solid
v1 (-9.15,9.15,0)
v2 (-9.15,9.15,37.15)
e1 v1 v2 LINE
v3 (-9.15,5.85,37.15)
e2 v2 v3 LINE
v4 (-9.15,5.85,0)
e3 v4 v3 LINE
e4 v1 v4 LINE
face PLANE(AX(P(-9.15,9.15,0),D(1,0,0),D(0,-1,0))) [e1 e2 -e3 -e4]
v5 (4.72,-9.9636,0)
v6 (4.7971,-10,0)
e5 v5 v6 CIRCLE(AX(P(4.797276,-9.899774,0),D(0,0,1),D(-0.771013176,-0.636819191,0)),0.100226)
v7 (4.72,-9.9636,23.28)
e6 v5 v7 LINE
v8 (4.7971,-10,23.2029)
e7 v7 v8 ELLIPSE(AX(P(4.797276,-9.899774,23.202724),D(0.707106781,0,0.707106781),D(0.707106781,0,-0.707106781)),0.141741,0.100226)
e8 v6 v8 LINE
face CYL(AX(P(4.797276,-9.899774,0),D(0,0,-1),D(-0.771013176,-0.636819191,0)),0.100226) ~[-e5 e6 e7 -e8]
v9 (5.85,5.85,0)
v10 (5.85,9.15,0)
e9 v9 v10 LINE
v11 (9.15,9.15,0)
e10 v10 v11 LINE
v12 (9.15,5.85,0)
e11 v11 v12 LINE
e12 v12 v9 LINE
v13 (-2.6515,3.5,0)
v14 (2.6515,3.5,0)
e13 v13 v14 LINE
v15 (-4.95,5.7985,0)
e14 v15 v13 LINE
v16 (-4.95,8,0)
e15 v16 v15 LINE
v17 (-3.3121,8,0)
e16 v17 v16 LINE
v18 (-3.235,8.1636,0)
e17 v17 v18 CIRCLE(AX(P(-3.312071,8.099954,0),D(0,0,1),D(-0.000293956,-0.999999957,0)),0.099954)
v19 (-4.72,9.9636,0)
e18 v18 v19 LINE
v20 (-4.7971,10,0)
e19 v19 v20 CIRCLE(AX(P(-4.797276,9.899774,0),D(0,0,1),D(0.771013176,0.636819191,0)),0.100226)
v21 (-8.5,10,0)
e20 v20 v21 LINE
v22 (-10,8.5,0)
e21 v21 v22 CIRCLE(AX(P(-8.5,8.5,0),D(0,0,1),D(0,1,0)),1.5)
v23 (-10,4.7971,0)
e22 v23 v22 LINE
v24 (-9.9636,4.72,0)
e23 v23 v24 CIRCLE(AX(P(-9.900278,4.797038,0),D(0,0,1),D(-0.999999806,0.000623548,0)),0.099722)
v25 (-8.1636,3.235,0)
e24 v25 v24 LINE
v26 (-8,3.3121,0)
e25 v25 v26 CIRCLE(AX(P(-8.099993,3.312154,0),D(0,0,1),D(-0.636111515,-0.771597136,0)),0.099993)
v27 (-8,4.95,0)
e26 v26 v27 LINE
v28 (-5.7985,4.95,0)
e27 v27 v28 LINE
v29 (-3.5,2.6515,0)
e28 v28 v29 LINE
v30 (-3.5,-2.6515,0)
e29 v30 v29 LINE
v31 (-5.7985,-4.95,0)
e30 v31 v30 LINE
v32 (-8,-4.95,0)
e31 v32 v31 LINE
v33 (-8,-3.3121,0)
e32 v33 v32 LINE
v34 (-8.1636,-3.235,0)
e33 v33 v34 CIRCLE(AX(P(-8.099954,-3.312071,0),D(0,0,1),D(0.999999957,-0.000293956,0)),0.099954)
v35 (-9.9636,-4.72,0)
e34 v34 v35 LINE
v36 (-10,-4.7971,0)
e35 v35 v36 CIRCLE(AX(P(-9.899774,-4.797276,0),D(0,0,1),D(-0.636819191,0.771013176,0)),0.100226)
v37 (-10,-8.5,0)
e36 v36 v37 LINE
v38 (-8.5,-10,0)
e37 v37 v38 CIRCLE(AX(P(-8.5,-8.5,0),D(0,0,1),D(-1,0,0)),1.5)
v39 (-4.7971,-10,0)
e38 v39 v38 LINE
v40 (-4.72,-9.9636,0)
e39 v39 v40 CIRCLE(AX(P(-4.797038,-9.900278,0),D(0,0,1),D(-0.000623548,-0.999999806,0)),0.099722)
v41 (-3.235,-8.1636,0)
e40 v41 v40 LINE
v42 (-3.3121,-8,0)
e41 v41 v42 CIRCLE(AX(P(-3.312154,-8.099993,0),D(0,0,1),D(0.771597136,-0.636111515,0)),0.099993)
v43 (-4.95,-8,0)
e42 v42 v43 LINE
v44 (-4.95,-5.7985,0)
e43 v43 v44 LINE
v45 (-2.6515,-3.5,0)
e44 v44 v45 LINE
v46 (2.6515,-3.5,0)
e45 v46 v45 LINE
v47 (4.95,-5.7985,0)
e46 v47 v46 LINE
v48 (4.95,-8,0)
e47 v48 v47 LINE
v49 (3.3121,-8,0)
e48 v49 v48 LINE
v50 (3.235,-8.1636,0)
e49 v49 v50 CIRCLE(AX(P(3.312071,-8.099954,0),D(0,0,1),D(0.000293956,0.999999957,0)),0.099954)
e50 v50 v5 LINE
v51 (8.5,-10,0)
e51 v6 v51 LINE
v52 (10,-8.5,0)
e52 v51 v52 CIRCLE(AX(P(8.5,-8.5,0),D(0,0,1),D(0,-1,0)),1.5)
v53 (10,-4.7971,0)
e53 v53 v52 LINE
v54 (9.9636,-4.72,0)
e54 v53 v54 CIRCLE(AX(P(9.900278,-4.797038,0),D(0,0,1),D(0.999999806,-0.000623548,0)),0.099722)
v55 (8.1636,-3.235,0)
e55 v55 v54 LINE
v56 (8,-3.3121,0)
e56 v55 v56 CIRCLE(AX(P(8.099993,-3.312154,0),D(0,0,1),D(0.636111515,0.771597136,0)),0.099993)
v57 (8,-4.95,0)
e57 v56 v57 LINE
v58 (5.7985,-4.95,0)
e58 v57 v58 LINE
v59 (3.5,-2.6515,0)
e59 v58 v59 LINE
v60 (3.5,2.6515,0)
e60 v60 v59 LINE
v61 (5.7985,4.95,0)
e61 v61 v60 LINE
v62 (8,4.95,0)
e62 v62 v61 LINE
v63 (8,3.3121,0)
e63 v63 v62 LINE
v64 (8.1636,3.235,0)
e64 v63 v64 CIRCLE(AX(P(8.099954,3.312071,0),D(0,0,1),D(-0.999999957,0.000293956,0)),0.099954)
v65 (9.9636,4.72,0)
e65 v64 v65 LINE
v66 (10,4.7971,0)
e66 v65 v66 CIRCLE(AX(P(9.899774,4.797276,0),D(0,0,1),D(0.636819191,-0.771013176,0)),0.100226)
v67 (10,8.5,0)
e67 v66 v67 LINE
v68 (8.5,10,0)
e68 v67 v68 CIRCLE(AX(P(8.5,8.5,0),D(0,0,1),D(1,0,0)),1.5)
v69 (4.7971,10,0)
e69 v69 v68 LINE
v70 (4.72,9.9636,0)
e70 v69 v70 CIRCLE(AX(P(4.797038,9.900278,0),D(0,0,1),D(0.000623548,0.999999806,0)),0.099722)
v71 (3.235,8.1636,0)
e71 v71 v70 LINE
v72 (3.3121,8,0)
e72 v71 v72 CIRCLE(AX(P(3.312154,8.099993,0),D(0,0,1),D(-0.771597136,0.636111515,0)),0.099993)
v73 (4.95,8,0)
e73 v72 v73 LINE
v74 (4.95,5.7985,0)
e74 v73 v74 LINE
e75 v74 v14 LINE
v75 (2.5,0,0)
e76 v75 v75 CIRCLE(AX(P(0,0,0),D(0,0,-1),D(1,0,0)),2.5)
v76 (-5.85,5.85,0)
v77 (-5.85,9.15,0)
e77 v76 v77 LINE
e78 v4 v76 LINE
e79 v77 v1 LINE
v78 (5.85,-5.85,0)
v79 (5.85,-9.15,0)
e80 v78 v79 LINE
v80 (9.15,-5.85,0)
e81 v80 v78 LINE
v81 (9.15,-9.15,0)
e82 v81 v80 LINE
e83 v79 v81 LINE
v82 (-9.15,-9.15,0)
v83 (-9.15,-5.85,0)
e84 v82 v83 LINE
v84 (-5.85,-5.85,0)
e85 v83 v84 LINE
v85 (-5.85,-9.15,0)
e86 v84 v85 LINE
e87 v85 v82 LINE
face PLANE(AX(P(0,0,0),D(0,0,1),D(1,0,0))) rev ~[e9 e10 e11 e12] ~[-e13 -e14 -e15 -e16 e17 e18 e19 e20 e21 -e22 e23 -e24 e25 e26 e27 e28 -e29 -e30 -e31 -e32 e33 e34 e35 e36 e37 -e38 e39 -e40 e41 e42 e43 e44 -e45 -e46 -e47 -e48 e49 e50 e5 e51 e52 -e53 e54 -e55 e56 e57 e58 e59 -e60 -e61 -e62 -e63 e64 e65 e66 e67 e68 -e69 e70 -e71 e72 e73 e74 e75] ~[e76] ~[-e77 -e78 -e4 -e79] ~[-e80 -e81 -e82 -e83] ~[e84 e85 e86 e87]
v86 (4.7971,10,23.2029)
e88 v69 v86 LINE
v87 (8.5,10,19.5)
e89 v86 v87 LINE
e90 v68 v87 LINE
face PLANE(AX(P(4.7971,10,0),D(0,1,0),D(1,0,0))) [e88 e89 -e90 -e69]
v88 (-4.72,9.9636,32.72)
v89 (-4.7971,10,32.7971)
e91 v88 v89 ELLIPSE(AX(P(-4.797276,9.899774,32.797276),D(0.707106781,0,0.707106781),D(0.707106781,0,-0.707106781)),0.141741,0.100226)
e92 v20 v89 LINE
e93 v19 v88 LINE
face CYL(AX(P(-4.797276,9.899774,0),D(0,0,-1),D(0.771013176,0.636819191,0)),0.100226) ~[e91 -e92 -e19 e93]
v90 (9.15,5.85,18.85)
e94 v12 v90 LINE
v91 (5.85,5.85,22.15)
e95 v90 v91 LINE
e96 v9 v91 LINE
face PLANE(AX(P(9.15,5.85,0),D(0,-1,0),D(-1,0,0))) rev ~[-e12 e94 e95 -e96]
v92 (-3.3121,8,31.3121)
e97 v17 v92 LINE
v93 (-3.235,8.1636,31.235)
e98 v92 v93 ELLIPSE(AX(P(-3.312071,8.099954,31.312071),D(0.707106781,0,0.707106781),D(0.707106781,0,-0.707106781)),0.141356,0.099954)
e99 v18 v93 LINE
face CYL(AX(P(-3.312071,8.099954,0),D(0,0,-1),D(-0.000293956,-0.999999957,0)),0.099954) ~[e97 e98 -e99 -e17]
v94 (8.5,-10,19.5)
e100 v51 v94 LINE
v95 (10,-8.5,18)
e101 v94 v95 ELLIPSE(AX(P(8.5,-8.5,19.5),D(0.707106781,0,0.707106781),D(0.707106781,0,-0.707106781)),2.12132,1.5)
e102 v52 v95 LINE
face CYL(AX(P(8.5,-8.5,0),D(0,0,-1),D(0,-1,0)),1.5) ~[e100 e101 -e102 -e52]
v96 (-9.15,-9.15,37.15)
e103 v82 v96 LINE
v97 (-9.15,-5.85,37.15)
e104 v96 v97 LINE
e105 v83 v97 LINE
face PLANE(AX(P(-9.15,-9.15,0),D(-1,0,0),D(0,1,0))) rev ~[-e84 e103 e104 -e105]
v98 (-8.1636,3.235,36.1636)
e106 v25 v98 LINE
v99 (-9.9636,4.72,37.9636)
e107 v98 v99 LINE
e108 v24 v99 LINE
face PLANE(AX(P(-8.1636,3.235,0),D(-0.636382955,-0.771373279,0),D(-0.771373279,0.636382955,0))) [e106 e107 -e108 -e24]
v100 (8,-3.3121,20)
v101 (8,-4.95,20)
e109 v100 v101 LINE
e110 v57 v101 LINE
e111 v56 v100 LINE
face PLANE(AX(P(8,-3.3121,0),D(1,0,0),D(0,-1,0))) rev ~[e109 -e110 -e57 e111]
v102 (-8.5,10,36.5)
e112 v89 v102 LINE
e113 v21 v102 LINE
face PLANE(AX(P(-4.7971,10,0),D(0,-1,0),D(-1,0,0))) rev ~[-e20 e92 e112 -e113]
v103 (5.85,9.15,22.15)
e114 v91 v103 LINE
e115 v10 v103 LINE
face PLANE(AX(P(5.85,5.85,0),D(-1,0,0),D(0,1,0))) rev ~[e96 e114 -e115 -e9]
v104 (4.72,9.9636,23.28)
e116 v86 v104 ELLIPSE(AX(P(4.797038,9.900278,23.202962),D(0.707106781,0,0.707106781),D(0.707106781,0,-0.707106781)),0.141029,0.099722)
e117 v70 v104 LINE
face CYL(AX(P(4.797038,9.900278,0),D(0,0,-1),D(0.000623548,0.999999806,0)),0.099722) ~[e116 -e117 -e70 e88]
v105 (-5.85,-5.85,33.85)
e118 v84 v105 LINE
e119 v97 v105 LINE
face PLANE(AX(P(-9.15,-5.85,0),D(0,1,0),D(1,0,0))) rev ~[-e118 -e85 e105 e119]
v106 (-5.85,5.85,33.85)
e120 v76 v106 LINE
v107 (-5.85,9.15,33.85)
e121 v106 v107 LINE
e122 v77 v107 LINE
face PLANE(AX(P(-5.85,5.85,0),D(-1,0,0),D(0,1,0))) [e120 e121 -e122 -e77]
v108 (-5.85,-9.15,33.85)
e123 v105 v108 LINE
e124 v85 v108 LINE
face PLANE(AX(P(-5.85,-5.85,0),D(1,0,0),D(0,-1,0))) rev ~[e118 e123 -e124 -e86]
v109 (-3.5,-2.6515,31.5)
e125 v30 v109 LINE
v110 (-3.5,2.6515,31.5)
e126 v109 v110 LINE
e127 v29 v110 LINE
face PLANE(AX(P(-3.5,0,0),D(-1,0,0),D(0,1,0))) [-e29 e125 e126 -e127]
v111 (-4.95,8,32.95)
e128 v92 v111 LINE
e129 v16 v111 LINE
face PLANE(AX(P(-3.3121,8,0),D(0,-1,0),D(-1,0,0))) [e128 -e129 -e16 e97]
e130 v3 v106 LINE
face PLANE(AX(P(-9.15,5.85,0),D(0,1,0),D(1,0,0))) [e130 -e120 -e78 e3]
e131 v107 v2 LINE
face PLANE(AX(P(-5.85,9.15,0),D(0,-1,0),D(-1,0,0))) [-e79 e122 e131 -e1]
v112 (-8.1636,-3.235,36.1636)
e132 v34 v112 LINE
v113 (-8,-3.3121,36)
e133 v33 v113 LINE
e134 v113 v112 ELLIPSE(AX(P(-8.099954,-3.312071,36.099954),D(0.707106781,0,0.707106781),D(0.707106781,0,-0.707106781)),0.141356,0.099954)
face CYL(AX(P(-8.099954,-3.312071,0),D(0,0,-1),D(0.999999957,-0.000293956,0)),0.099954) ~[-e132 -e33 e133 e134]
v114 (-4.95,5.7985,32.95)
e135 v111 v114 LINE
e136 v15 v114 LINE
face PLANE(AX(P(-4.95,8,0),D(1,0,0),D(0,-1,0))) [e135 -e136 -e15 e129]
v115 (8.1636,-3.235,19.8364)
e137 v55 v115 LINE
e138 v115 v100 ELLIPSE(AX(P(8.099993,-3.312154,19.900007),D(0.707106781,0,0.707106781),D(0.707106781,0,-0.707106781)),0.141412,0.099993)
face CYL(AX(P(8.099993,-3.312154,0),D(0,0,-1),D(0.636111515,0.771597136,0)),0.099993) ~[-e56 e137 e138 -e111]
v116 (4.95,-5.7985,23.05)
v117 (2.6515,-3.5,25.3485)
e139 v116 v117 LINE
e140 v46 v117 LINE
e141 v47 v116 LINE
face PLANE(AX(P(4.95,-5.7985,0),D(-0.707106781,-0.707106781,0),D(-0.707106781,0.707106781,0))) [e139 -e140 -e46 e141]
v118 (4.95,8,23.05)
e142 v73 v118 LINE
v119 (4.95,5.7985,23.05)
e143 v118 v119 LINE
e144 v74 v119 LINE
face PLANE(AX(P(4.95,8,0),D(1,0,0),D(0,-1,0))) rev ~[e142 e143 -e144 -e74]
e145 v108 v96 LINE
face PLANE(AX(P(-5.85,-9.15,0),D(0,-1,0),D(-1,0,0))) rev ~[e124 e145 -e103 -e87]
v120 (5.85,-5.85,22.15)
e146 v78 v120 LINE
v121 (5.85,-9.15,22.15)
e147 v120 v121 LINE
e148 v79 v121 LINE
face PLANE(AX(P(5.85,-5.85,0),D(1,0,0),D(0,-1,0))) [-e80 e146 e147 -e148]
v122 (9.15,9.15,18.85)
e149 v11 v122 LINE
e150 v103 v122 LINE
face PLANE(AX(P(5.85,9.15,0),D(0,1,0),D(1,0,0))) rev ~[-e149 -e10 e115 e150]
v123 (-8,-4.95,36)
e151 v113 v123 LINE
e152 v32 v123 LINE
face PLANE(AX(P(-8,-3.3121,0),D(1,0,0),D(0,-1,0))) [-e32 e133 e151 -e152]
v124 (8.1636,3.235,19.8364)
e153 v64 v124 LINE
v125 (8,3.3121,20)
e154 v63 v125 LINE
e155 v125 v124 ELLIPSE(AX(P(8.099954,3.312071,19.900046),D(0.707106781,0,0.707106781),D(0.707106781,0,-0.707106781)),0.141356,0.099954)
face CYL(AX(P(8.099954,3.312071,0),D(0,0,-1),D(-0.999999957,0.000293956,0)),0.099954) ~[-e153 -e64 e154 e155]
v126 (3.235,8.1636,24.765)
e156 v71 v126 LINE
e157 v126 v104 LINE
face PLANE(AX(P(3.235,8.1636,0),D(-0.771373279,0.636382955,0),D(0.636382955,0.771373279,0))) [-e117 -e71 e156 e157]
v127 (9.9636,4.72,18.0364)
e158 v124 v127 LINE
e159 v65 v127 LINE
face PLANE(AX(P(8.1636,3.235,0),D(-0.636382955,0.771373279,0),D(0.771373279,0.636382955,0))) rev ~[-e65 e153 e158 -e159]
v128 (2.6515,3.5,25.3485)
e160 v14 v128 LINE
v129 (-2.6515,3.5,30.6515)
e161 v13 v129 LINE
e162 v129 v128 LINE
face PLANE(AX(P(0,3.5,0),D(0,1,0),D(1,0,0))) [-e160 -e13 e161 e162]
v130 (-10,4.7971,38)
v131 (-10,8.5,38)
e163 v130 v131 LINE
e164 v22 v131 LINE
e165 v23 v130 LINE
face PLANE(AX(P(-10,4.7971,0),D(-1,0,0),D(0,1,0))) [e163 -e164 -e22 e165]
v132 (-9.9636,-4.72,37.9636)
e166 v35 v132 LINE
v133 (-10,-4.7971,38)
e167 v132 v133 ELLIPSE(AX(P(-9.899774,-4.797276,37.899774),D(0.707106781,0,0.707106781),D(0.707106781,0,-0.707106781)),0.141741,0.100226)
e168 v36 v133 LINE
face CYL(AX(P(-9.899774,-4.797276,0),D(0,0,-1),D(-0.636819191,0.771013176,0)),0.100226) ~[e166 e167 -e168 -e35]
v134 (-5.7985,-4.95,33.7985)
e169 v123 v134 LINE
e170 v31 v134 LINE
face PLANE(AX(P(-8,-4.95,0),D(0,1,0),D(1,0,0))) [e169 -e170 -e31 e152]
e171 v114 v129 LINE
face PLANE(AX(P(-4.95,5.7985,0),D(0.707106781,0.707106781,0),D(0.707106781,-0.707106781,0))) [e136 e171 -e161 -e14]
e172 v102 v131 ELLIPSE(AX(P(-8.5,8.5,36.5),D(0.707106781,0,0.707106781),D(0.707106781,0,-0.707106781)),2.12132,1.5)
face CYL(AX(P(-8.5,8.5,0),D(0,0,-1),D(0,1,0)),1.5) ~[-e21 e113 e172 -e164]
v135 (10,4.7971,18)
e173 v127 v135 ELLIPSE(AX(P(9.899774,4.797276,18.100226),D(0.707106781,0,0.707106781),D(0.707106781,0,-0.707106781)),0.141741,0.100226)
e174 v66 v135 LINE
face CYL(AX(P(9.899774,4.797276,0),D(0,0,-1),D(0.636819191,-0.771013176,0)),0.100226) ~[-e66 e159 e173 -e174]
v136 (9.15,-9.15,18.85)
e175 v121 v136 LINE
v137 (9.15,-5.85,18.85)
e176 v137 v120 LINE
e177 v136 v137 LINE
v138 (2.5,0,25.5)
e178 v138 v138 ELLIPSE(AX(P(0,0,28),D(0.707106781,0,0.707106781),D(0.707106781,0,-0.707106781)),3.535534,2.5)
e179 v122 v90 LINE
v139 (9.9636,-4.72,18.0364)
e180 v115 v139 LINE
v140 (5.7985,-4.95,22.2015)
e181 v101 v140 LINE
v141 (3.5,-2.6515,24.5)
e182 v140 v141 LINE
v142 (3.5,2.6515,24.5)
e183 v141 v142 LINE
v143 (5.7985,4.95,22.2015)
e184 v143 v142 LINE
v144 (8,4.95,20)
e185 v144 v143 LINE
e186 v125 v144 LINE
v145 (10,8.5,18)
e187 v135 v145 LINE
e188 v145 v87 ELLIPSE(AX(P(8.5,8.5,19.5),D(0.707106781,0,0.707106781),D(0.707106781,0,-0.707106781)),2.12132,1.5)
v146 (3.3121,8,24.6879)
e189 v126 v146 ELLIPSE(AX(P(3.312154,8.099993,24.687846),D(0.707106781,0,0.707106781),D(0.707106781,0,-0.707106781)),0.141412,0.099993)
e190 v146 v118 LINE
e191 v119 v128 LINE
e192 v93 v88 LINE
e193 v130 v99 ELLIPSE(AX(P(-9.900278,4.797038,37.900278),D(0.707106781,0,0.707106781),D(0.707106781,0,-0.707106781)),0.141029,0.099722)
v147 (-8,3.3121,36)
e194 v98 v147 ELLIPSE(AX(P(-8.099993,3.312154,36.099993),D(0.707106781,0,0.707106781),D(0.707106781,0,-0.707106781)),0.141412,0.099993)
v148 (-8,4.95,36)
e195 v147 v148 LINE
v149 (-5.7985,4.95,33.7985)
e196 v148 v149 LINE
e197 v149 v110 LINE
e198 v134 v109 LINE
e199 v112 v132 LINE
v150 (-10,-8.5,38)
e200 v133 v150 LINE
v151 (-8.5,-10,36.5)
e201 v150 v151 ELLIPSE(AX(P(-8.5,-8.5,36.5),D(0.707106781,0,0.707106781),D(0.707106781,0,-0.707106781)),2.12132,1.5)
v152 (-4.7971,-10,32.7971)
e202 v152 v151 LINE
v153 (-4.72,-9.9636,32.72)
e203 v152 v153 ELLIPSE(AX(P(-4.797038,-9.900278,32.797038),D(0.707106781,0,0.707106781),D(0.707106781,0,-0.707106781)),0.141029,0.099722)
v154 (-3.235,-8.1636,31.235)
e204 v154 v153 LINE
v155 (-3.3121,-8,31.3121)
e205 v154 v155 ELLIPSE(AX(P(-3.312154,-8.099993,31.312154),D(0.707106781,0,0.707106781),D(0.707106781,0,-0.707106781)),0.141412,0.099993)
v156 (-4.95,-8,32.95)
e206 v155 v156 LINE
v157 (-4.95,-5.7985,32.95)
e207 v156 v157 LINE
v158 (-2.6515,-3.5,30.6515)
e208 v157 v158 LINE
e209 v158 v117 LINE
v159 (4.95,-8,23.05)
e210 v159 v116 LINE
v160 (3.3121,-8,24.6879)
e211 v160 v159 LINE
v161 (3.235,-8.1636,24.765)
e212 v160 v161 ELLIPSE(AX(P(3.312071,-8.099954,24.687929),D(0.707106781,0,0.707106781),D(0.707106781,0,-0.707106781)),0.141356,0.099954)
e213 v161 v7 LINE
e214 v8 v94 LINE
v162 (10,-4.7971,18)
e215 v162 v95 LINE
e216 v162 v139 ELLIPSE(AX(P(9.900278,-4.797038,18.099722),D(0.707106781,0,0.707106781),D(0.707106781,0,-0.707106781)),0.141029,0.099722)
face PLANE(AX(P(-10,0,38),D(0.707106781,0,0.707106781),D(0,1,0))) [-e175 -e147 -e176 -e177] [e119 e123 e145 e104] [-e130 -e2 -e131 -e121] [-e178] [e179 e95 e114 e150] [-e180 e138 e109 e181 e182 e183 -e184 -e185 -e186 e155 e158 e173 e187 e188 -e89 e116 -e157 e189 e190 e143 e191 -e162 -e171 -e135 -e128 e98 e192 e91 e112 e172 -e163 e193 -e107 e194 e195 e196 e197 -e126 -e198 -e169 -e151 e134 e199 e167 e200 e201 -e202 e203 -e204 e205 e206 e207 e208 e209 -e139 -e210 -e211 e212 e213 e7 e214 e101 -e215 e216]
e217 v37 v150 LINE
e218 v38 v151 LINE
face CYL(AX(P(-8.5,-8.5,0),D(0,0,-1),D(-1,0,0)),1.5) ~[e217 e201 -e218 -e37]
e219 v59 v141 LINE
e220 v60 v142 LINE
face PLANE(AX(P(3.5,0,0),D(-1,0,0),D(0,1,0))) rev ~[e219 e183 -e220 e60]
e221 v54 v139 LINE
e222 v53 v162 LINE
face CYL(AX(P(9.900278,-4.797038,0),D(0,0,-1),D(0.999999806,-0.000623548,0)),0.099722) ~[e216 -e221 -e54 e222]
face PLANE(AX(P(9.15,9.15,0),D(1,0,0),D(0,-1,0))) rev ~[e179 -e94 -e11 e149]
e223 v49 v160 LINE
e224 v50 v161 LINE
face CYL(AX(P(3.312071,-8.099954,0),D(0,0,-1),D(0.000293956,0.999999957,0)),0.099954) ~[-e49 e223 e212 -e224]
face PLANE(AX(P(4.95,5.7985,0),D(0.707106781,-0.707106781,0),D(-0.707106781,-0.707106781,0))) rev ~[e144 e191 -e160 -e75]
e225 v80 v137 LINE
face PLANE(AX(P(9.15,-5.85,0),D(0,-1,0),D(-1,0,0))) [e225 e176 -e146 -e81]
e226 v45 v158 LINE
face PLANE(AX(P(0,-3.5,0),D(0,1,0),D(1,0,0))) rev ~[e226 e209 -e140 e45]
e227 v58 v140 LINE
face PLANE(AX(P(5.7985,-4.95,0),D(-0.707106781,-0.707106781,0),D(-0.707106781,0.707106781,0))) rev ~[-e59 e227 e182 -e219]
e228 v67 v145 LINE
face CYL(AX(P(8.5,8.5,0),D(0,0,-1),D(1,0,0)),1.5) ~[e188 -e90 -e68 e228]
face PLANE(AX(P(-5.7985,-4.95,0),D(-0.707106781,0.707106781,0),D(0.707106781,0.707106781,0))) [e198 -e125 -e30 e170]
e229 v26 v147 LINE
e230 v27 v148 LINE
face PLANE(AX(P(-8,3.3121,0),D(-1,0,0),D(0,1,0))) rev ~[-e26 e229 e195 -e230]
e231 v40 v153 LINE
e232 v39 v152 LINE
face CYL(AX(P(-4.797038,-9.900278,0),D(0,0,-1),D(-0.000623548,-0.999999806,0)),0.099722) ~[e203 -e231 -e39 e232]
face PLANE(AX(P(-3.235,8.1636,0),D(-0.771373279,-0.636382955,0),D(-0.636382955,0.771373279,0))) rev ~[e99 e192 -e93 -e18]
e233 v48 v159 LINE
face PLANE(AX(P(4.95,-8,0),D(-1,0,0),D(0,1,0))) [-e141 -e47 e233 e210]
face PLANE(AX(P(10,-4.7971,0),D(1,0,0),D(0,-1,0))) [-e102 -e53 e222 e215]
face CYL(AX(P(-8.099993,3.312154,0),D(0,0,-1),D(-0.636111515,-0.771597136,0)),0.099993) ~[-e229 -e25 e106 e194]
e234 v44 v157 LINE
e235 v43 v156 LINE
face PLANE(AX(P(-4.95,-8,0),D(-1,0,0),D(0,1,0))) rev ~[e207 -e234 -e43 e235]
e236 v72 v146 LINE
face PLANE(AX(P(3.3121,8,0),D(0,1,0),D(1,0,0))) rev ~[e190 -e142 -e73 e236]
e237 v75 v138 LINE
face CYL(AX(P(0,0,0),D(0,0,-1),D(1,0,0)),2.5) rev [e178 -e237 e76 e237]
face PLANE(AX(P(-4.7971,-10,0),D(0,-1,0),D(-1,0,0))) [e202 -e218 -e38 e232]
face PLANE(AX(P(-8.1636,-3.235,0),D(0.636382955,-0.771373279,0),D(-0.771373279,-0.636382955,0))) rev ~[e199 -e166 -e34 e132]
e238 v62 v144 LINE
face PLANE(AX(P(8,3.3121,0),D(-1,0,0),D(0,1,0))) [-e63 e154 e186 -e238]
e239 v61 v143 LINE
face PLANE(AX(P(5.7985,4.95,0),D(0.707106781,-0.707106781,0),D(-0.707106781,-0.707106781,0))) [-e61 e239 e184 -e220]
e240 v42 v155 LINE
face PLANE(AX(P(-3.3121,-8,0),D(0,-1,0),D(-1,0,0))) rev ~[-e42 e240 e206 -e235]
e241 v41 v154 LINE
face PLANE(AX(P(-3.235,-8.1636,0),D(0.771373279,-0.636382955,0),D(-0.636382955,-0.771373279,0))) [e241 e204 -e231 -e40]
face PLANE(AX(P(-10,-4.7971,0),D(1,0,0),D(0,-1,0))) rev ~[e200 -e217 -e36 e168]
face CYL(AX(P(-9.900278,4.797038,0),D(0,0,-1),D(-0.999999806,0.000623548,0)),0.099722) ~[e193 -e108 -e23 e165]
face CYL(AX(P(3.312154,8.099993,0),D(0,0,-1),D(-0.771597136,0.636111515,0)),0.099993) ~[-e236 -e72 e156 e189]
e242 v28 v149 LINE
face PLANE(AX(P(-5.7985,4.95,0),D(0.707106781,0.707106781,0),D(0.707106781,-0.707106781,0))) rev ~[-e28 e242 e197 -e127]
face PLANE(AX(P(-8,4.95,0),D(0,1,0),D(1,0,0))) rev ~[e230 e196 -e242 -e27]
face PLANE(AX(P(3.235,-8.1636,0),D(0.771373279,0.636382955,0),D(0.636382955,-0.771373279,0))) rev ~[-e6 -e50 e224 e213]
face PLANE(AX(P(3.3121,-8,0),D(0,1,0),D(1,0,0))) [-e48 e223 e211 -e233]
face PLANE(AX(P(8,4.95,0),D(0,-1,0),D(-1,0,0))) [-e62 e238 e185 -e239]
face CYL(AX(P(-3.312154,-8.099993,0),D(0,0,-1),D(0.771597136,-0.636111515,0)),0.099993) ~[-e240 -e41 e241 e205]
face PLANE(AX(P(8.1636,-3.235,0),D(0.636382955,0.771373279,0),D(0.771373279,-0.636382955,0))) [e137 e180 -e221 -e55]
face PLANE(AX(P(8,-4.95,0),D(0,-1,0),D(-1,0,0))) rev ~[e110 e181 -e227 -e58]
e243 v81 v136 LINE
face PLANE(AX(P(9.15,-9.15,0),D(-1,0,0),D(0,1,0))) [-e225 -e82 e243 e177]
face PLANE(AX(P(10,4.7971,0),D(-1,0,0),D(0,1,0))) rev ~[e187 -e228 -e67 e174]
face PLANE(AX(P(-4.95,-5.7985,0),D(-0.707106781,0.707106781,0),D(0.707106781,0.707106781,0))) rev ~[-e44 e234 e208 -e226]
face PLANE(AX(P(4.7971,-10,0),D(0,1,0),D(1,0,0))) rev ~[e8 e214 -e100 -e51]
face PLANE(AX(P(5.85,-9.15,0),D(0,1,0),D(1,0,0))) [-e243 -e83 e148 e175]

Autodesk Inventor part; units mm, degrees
ref_plane "Начальная плоскость" through (0, 0, 0) normal (0, 0, 1) x (1, 0, 0)
ref_plane "Конечная плоскость" through (0, 0, 38) normal (0, 0, 1) x (1, 0, 0)
sketch "Эскиз" plane through (0, 0, 0) normal (0, 0, 1) x (1, 0, 0)
  line L0 (-14.4349, 0) -> (14.4349, 0) projected
  line L1 (0, -14) -> (0, 14) projected
  line L2 (0, 0) -> (7.5, 7.5) construction
  circle A0 centre (7.5, 7.5) radius 1.65 construction
  line L3 (5.85, 9.15) -> (9.15, 9.15)
  line L4 (9.15, 9.15) -> (9.15, 5.85)
  line L5 (9.15, 5.85) -> (5.85, 5.85)
  line L6 (5.85, 5.85) -> (5.85, 9.15)
  line L7 (3.235, 8.1636) -> (4.72, 9.9636)
  line L8 (4.7971, 10) -> (8.5, 10)
  line L9 (3.3121, 8) -> (4.95, 8)
  line L10 (4.95, 8) -> (4.95, 5.7985)
  line L11 (4.95, 5.7985) -> (2.6515, 3.5)
  line L12 (0, 3.5) -> (2.6515, 3.5)
  circle A1 centre (0, 0) radius 2.5
  line L13 (8.1636, 3.235) -> (9.9636, 4.72)
  line L14 (10, 4.7971) -> (10, 8.5)
  line L15 (8, 3.3121) -> (8, 4.95)
  line L16 (8, 4.95) -> (5.7985, 4.95)
  line L17 (5.7985, 4.95) -> (3.5, 2.6515)
  line L18 (3.5, 0) -> (3.5, 2.6515)
  arc A2 (10, 8.5) -> (8.5, 10) centre (8.5, 8.5) ccw
  line L19 (0, 0) -> (-7.5, 7.5) construction
  circle A3 centre (-7.5, 7.5) radius 1.65 construction
  line L20 (-5.85, 9.15) -> (-9.15, 9.15)
  line L21 (-9.15, 9.15) -> (-9.15, 5.85)
  line L22 (-9.15, 5.85) -> (-5.85, 5.85)
  line L23 (-5.85, 5.85) -> (-5.85, 9.15)
  line L24 (-3.235, 8.1636) -> (-4.72, 9.9636)
  line L25 (-4.7971, 10) -> (-8.5, 10)
  line L26 (-3.3121, 8) -> (-4.95, 8)
  line L27 (-4.95, 8) -> (-4.95, 5.7985)
  line L28 (-4.95, 5.7985) -> (-2.6515, 3.5)
  line L29 (0, 3.5) -> (-2.6515, 3.5)
  line L30 (-3.5, 0) -> (-3.5, 2.6515)
  line L31 (-5.7985, 4.95) -> (-3.5, 2.6515)
  line L32 (-8, 4.95) -> (-5.7985, 4.95)
  line L33 (-8, 3.3121) -> (-8, 4.95)
  line L34 (-8.1636, 3.235) -> (-9.9636, 4.72)
  line L35 (-10, 4.7971) -> (-10, 8.5)
  arc A4 (-8.5, 10) -> (-10, 8.5) centre (-8.5, 8.5) ccw
  line L36 (0, 14) -> (0, -14)
  line L37 (0, 0) -> (7.5, -7.5) construction
  circle A5 centre (7.5, -7.5) radius 1.65 construction
  line L38 (5.85, -9.15) -> (9.15, -9.15)
  line L39 (9.15, -9.15) -> (9.15, -5.85)
  line L40 (9.15, -5.85) -> (5.85, -5.85)
  line L41 (5.85, -5.85) -> (5.85, -9.15)
  line L42 (3.235, -8.1636) -> (4.72, -9.9636)
  line L43 (4.7971, -10) -> (8.5, -10)
  line L44 (3.3121, -8) -> (4.95, -8)
  line L45 (4.95, -8) -> (4.95, -5.7985)
  line L46 (4.95, -5.7985) -> (2.6515, -3.5)
  line L47 (0, -3.5) -> (2.6515, -3.5)
  line L48 (3.5, 0) -> (3.5, -2.6515)
  line L49 (5.7985, -4.95) -> (3.5, -2.6515)
  line L50 (8, -4.95) -> (5.7985, -4.95)
  line L51 (8, -3.3121) -> (8, -4.95)
  line L52 (8.1636, -3.235) -> (9.9636, -4.72)
  line L53 (10, -4.7971) -> (10, -8.5)
  arc A6 (8.5, -10) -> (10, -8.5) centre (8.5, -8.5) ccw
  line L54 (0, 0) -> (-7.5, -7.5) construction
  line L55 (-4.95, -8) -> (-4.95, -5.7985)
  line L56 (-3.3121, -8) -> (-4.95, -8)
  line L57 (-5.7985, -4.95) -> (-3.5, -2.6515)
  line L58 (-4.95, -5.7985) -> (-2.6515, -3.5)
  line L59 (-3.5, 0) -> (-3.5, -2.6515)
  line L60 (0, -3.5) -> (-2.6515, -3.5)
  circle A7 centre (-7.5, -7.5) radius 1.65 construction
  line L61 (-5.85, -5.85) -> (-5.85, -9.15)
  line L62 (-5.85, -9.15) -> (-9.15, -9.15)
  line L63 (-9.15, -9.15) -> (-9.15, -5.85)
  line L64 (-9.15, -5.85) -> (-5.85, -5.85)
  line L65 (-3.235, -8.1636) -> (-4.72, -9.9636)
  line L66 (-8, -4.95) -> (-5.7985, -4.95)
  line L67 (-8, -3.3121) -> (-8, -4.95)
  line L68 (-8.1636, -3.235) -> (-9.9636, -4.72)
  line L69 (-4.7971, -10) -> (-8.5, -10)
  line L70 (-10, -4.7971) -> (-10, -8.5)
  arc A8 (-10, -8.5) -> (-8.5, -10) centre (-8.5, -8.5) ccw
  arc A9 (3.235, 8.1636) -> (3.3121, 8) centre (3.3121, 8.1) ccw
  arc A10 (4.7971, 10) -> (4.72, 9.9636) centre (4.7971, 9.9) ccw
  arc A11 (8, 3.3121) -> (8.1636, 3.235) centre (8.1, 3.3121) ccw
  arc A12 (9.9636, 4.72) -> (10, 4.7971) centre (9.9, 4.7971) ccw
  arc A13 (-3.3121, 8) -> (-3.235, 8.1636) centre (-3.3121, 8.1) ccw
  arc A14 (-4.72, 9.9636) -> (-4.7971, 10) centre (-4.7971, 9.9) ccw
  arc A15 (-8.1636, 3.235) -> (-8, 3.3121) centre (-8.1, 3.3121) ccw
  arc A16 (-10, 4.7971) -> (-9.9636, 4.72) centre (-9.9, 4.7971) ccw
  arc A17 (-8, -3.3121) -> (-8.1636, -3.235) centre (-8.1, -3.3121) ccw
  arc A18 (-9.9636, -4.72) -> (-10, -4.7971) centre (-9.9, -4.7971) ccw
  arc A19 (-3.235, -8.1636) -> (-3.3121, -8) centre (-3.3121, -8.1) ccw
  arc A20 (-4.7971, -10) -> (-4.72, -9.9636) centre (-4.7971, -9.9) ccw
  arc A21 (4.72, -9.9636) -> (4.7971, -10) centre (4.7971, -9.9) ccw
  arc A22 (3.3121, -8) -> (3.235, -8.1636) centre (3.3121, -8.1) ccw
  arc A23 (8.1636, -3.235) -> (8, -3.3121) centre (8.1, -3.3121) ccw
  arc A24 (10, -4.7971) -> (9.9636, -4.72) centre (9.9, -4.7971) ccw
  point P0 (3.1, 8)
  point P1 (4.75, 10)
  point P2 (7.5, 9.15)
  point P3 (8, 3.1)
  point P4 (10, 4.75)
  point P5 (7.5, 5.85)
  point P6 (9.15, 7.5)
  point P7 (-3.1, 8)
  point P8 (-4.75, 10)
  point P9 (-7.5, 9.15)
  point P10 (-8, 3.1)
  point P11 (-10, 4.75)
  point P12 (-7.5, 5.85)
  point P13 (-9.15, 7.5)
  point P14 (3.1, -8)
  point P15 (4.75, -10)
  point P16 (7.5, -9.15)
  point P17 (8, -3.1)
  point P18 (10, -4.75)
  point P19 (7.5, -5.85)
  point P20 (9.15, -7.5)
  point P21 (-3.1, -8)
  point P22 (-7.5, -5.85)
  point P23 (-7.5, -9.15)
  point P24 (-9.15, -7.5)
  point P25 (-4.75, -10)
  point P26 (-8, -3.1)
  point P27 (-10, -4.75)
  dimension "d0" = 45
  dimension "d1" = 3.3
  dimension "d2" = 1.5
  dimension "d3" = 1.2
  dimension "d4" = 5
  dimension "d5" = 6.5
  dimension "d6" = 15
  dimension "d7" = 20
  dimension "d8" = 9.9
  dimension "d9" = 9.5
  dimension "d10" = 6.2
  dimension "d11" = 2
  dimension "d18" = 0.1
  dimension "d19" = 0.1
extrude "Тело" add sketch "Эскиз" along normal up to surface (38 mm away) from surface at 0 contours A1 L1 L12 L11 L10 L9 A9 L7 A10 L8 A2 L14 A12 L13 A11 L15 L16 L17 L18 L0 | L0 L48 L49 L50 L51 A23 L52 A24 L53 A6 L43 A21 L42 A22 L44 L45 L46 L47 L1 A1 | A1 L0 L30 L31 L32 L33 A15 L34 A16 L35 A4 L25 A14 L24 A13 L26 L27 L28 L29 L1 | L1 L60 L58 L55 L56 A19 L65 A20 L69 A8 L70 A18 L68 A17 L67 L66 L57 L59 L0 A1
sketch "Эскиз2" plane through (0, 0, 0) normal (0, 0, 1) x (1, 0, 0)
  line L0 (0, 0) -> (10, 0)
ref_plane "РабПлоскость3" through (0, 0, 0) normal (0, -1, 0) x (1, 0, 0)
sketch "Эскиз3" plane through (0, 0, 0) normal (0, -1, 0) x (1, 0, 0)
  line L0 (-2, 0) -> (12, 0)
  line L1 (-2, 38) -> (12, 38)
  dimension "d25" = 38
ref_plane "РабПлоскость4" through (-10, 0, 38) normal (0.7071, 0, 0.7071) x (0.7071, 0, -0.7071)
split "Разделение1" plane through (-10, 0, 38) removes the side toward (0.7071, 0, 0.7071)
equation "\"Длина\" = 28"
equation "\"G_OFFSET_START\" = 0"
equation "\"d21\" = Длина + G_OFFSET_END"
equation "\"G_L\" = d25"
equation "\"G_OFFSET_END\" = 10"
properties part number "короткая палка"
